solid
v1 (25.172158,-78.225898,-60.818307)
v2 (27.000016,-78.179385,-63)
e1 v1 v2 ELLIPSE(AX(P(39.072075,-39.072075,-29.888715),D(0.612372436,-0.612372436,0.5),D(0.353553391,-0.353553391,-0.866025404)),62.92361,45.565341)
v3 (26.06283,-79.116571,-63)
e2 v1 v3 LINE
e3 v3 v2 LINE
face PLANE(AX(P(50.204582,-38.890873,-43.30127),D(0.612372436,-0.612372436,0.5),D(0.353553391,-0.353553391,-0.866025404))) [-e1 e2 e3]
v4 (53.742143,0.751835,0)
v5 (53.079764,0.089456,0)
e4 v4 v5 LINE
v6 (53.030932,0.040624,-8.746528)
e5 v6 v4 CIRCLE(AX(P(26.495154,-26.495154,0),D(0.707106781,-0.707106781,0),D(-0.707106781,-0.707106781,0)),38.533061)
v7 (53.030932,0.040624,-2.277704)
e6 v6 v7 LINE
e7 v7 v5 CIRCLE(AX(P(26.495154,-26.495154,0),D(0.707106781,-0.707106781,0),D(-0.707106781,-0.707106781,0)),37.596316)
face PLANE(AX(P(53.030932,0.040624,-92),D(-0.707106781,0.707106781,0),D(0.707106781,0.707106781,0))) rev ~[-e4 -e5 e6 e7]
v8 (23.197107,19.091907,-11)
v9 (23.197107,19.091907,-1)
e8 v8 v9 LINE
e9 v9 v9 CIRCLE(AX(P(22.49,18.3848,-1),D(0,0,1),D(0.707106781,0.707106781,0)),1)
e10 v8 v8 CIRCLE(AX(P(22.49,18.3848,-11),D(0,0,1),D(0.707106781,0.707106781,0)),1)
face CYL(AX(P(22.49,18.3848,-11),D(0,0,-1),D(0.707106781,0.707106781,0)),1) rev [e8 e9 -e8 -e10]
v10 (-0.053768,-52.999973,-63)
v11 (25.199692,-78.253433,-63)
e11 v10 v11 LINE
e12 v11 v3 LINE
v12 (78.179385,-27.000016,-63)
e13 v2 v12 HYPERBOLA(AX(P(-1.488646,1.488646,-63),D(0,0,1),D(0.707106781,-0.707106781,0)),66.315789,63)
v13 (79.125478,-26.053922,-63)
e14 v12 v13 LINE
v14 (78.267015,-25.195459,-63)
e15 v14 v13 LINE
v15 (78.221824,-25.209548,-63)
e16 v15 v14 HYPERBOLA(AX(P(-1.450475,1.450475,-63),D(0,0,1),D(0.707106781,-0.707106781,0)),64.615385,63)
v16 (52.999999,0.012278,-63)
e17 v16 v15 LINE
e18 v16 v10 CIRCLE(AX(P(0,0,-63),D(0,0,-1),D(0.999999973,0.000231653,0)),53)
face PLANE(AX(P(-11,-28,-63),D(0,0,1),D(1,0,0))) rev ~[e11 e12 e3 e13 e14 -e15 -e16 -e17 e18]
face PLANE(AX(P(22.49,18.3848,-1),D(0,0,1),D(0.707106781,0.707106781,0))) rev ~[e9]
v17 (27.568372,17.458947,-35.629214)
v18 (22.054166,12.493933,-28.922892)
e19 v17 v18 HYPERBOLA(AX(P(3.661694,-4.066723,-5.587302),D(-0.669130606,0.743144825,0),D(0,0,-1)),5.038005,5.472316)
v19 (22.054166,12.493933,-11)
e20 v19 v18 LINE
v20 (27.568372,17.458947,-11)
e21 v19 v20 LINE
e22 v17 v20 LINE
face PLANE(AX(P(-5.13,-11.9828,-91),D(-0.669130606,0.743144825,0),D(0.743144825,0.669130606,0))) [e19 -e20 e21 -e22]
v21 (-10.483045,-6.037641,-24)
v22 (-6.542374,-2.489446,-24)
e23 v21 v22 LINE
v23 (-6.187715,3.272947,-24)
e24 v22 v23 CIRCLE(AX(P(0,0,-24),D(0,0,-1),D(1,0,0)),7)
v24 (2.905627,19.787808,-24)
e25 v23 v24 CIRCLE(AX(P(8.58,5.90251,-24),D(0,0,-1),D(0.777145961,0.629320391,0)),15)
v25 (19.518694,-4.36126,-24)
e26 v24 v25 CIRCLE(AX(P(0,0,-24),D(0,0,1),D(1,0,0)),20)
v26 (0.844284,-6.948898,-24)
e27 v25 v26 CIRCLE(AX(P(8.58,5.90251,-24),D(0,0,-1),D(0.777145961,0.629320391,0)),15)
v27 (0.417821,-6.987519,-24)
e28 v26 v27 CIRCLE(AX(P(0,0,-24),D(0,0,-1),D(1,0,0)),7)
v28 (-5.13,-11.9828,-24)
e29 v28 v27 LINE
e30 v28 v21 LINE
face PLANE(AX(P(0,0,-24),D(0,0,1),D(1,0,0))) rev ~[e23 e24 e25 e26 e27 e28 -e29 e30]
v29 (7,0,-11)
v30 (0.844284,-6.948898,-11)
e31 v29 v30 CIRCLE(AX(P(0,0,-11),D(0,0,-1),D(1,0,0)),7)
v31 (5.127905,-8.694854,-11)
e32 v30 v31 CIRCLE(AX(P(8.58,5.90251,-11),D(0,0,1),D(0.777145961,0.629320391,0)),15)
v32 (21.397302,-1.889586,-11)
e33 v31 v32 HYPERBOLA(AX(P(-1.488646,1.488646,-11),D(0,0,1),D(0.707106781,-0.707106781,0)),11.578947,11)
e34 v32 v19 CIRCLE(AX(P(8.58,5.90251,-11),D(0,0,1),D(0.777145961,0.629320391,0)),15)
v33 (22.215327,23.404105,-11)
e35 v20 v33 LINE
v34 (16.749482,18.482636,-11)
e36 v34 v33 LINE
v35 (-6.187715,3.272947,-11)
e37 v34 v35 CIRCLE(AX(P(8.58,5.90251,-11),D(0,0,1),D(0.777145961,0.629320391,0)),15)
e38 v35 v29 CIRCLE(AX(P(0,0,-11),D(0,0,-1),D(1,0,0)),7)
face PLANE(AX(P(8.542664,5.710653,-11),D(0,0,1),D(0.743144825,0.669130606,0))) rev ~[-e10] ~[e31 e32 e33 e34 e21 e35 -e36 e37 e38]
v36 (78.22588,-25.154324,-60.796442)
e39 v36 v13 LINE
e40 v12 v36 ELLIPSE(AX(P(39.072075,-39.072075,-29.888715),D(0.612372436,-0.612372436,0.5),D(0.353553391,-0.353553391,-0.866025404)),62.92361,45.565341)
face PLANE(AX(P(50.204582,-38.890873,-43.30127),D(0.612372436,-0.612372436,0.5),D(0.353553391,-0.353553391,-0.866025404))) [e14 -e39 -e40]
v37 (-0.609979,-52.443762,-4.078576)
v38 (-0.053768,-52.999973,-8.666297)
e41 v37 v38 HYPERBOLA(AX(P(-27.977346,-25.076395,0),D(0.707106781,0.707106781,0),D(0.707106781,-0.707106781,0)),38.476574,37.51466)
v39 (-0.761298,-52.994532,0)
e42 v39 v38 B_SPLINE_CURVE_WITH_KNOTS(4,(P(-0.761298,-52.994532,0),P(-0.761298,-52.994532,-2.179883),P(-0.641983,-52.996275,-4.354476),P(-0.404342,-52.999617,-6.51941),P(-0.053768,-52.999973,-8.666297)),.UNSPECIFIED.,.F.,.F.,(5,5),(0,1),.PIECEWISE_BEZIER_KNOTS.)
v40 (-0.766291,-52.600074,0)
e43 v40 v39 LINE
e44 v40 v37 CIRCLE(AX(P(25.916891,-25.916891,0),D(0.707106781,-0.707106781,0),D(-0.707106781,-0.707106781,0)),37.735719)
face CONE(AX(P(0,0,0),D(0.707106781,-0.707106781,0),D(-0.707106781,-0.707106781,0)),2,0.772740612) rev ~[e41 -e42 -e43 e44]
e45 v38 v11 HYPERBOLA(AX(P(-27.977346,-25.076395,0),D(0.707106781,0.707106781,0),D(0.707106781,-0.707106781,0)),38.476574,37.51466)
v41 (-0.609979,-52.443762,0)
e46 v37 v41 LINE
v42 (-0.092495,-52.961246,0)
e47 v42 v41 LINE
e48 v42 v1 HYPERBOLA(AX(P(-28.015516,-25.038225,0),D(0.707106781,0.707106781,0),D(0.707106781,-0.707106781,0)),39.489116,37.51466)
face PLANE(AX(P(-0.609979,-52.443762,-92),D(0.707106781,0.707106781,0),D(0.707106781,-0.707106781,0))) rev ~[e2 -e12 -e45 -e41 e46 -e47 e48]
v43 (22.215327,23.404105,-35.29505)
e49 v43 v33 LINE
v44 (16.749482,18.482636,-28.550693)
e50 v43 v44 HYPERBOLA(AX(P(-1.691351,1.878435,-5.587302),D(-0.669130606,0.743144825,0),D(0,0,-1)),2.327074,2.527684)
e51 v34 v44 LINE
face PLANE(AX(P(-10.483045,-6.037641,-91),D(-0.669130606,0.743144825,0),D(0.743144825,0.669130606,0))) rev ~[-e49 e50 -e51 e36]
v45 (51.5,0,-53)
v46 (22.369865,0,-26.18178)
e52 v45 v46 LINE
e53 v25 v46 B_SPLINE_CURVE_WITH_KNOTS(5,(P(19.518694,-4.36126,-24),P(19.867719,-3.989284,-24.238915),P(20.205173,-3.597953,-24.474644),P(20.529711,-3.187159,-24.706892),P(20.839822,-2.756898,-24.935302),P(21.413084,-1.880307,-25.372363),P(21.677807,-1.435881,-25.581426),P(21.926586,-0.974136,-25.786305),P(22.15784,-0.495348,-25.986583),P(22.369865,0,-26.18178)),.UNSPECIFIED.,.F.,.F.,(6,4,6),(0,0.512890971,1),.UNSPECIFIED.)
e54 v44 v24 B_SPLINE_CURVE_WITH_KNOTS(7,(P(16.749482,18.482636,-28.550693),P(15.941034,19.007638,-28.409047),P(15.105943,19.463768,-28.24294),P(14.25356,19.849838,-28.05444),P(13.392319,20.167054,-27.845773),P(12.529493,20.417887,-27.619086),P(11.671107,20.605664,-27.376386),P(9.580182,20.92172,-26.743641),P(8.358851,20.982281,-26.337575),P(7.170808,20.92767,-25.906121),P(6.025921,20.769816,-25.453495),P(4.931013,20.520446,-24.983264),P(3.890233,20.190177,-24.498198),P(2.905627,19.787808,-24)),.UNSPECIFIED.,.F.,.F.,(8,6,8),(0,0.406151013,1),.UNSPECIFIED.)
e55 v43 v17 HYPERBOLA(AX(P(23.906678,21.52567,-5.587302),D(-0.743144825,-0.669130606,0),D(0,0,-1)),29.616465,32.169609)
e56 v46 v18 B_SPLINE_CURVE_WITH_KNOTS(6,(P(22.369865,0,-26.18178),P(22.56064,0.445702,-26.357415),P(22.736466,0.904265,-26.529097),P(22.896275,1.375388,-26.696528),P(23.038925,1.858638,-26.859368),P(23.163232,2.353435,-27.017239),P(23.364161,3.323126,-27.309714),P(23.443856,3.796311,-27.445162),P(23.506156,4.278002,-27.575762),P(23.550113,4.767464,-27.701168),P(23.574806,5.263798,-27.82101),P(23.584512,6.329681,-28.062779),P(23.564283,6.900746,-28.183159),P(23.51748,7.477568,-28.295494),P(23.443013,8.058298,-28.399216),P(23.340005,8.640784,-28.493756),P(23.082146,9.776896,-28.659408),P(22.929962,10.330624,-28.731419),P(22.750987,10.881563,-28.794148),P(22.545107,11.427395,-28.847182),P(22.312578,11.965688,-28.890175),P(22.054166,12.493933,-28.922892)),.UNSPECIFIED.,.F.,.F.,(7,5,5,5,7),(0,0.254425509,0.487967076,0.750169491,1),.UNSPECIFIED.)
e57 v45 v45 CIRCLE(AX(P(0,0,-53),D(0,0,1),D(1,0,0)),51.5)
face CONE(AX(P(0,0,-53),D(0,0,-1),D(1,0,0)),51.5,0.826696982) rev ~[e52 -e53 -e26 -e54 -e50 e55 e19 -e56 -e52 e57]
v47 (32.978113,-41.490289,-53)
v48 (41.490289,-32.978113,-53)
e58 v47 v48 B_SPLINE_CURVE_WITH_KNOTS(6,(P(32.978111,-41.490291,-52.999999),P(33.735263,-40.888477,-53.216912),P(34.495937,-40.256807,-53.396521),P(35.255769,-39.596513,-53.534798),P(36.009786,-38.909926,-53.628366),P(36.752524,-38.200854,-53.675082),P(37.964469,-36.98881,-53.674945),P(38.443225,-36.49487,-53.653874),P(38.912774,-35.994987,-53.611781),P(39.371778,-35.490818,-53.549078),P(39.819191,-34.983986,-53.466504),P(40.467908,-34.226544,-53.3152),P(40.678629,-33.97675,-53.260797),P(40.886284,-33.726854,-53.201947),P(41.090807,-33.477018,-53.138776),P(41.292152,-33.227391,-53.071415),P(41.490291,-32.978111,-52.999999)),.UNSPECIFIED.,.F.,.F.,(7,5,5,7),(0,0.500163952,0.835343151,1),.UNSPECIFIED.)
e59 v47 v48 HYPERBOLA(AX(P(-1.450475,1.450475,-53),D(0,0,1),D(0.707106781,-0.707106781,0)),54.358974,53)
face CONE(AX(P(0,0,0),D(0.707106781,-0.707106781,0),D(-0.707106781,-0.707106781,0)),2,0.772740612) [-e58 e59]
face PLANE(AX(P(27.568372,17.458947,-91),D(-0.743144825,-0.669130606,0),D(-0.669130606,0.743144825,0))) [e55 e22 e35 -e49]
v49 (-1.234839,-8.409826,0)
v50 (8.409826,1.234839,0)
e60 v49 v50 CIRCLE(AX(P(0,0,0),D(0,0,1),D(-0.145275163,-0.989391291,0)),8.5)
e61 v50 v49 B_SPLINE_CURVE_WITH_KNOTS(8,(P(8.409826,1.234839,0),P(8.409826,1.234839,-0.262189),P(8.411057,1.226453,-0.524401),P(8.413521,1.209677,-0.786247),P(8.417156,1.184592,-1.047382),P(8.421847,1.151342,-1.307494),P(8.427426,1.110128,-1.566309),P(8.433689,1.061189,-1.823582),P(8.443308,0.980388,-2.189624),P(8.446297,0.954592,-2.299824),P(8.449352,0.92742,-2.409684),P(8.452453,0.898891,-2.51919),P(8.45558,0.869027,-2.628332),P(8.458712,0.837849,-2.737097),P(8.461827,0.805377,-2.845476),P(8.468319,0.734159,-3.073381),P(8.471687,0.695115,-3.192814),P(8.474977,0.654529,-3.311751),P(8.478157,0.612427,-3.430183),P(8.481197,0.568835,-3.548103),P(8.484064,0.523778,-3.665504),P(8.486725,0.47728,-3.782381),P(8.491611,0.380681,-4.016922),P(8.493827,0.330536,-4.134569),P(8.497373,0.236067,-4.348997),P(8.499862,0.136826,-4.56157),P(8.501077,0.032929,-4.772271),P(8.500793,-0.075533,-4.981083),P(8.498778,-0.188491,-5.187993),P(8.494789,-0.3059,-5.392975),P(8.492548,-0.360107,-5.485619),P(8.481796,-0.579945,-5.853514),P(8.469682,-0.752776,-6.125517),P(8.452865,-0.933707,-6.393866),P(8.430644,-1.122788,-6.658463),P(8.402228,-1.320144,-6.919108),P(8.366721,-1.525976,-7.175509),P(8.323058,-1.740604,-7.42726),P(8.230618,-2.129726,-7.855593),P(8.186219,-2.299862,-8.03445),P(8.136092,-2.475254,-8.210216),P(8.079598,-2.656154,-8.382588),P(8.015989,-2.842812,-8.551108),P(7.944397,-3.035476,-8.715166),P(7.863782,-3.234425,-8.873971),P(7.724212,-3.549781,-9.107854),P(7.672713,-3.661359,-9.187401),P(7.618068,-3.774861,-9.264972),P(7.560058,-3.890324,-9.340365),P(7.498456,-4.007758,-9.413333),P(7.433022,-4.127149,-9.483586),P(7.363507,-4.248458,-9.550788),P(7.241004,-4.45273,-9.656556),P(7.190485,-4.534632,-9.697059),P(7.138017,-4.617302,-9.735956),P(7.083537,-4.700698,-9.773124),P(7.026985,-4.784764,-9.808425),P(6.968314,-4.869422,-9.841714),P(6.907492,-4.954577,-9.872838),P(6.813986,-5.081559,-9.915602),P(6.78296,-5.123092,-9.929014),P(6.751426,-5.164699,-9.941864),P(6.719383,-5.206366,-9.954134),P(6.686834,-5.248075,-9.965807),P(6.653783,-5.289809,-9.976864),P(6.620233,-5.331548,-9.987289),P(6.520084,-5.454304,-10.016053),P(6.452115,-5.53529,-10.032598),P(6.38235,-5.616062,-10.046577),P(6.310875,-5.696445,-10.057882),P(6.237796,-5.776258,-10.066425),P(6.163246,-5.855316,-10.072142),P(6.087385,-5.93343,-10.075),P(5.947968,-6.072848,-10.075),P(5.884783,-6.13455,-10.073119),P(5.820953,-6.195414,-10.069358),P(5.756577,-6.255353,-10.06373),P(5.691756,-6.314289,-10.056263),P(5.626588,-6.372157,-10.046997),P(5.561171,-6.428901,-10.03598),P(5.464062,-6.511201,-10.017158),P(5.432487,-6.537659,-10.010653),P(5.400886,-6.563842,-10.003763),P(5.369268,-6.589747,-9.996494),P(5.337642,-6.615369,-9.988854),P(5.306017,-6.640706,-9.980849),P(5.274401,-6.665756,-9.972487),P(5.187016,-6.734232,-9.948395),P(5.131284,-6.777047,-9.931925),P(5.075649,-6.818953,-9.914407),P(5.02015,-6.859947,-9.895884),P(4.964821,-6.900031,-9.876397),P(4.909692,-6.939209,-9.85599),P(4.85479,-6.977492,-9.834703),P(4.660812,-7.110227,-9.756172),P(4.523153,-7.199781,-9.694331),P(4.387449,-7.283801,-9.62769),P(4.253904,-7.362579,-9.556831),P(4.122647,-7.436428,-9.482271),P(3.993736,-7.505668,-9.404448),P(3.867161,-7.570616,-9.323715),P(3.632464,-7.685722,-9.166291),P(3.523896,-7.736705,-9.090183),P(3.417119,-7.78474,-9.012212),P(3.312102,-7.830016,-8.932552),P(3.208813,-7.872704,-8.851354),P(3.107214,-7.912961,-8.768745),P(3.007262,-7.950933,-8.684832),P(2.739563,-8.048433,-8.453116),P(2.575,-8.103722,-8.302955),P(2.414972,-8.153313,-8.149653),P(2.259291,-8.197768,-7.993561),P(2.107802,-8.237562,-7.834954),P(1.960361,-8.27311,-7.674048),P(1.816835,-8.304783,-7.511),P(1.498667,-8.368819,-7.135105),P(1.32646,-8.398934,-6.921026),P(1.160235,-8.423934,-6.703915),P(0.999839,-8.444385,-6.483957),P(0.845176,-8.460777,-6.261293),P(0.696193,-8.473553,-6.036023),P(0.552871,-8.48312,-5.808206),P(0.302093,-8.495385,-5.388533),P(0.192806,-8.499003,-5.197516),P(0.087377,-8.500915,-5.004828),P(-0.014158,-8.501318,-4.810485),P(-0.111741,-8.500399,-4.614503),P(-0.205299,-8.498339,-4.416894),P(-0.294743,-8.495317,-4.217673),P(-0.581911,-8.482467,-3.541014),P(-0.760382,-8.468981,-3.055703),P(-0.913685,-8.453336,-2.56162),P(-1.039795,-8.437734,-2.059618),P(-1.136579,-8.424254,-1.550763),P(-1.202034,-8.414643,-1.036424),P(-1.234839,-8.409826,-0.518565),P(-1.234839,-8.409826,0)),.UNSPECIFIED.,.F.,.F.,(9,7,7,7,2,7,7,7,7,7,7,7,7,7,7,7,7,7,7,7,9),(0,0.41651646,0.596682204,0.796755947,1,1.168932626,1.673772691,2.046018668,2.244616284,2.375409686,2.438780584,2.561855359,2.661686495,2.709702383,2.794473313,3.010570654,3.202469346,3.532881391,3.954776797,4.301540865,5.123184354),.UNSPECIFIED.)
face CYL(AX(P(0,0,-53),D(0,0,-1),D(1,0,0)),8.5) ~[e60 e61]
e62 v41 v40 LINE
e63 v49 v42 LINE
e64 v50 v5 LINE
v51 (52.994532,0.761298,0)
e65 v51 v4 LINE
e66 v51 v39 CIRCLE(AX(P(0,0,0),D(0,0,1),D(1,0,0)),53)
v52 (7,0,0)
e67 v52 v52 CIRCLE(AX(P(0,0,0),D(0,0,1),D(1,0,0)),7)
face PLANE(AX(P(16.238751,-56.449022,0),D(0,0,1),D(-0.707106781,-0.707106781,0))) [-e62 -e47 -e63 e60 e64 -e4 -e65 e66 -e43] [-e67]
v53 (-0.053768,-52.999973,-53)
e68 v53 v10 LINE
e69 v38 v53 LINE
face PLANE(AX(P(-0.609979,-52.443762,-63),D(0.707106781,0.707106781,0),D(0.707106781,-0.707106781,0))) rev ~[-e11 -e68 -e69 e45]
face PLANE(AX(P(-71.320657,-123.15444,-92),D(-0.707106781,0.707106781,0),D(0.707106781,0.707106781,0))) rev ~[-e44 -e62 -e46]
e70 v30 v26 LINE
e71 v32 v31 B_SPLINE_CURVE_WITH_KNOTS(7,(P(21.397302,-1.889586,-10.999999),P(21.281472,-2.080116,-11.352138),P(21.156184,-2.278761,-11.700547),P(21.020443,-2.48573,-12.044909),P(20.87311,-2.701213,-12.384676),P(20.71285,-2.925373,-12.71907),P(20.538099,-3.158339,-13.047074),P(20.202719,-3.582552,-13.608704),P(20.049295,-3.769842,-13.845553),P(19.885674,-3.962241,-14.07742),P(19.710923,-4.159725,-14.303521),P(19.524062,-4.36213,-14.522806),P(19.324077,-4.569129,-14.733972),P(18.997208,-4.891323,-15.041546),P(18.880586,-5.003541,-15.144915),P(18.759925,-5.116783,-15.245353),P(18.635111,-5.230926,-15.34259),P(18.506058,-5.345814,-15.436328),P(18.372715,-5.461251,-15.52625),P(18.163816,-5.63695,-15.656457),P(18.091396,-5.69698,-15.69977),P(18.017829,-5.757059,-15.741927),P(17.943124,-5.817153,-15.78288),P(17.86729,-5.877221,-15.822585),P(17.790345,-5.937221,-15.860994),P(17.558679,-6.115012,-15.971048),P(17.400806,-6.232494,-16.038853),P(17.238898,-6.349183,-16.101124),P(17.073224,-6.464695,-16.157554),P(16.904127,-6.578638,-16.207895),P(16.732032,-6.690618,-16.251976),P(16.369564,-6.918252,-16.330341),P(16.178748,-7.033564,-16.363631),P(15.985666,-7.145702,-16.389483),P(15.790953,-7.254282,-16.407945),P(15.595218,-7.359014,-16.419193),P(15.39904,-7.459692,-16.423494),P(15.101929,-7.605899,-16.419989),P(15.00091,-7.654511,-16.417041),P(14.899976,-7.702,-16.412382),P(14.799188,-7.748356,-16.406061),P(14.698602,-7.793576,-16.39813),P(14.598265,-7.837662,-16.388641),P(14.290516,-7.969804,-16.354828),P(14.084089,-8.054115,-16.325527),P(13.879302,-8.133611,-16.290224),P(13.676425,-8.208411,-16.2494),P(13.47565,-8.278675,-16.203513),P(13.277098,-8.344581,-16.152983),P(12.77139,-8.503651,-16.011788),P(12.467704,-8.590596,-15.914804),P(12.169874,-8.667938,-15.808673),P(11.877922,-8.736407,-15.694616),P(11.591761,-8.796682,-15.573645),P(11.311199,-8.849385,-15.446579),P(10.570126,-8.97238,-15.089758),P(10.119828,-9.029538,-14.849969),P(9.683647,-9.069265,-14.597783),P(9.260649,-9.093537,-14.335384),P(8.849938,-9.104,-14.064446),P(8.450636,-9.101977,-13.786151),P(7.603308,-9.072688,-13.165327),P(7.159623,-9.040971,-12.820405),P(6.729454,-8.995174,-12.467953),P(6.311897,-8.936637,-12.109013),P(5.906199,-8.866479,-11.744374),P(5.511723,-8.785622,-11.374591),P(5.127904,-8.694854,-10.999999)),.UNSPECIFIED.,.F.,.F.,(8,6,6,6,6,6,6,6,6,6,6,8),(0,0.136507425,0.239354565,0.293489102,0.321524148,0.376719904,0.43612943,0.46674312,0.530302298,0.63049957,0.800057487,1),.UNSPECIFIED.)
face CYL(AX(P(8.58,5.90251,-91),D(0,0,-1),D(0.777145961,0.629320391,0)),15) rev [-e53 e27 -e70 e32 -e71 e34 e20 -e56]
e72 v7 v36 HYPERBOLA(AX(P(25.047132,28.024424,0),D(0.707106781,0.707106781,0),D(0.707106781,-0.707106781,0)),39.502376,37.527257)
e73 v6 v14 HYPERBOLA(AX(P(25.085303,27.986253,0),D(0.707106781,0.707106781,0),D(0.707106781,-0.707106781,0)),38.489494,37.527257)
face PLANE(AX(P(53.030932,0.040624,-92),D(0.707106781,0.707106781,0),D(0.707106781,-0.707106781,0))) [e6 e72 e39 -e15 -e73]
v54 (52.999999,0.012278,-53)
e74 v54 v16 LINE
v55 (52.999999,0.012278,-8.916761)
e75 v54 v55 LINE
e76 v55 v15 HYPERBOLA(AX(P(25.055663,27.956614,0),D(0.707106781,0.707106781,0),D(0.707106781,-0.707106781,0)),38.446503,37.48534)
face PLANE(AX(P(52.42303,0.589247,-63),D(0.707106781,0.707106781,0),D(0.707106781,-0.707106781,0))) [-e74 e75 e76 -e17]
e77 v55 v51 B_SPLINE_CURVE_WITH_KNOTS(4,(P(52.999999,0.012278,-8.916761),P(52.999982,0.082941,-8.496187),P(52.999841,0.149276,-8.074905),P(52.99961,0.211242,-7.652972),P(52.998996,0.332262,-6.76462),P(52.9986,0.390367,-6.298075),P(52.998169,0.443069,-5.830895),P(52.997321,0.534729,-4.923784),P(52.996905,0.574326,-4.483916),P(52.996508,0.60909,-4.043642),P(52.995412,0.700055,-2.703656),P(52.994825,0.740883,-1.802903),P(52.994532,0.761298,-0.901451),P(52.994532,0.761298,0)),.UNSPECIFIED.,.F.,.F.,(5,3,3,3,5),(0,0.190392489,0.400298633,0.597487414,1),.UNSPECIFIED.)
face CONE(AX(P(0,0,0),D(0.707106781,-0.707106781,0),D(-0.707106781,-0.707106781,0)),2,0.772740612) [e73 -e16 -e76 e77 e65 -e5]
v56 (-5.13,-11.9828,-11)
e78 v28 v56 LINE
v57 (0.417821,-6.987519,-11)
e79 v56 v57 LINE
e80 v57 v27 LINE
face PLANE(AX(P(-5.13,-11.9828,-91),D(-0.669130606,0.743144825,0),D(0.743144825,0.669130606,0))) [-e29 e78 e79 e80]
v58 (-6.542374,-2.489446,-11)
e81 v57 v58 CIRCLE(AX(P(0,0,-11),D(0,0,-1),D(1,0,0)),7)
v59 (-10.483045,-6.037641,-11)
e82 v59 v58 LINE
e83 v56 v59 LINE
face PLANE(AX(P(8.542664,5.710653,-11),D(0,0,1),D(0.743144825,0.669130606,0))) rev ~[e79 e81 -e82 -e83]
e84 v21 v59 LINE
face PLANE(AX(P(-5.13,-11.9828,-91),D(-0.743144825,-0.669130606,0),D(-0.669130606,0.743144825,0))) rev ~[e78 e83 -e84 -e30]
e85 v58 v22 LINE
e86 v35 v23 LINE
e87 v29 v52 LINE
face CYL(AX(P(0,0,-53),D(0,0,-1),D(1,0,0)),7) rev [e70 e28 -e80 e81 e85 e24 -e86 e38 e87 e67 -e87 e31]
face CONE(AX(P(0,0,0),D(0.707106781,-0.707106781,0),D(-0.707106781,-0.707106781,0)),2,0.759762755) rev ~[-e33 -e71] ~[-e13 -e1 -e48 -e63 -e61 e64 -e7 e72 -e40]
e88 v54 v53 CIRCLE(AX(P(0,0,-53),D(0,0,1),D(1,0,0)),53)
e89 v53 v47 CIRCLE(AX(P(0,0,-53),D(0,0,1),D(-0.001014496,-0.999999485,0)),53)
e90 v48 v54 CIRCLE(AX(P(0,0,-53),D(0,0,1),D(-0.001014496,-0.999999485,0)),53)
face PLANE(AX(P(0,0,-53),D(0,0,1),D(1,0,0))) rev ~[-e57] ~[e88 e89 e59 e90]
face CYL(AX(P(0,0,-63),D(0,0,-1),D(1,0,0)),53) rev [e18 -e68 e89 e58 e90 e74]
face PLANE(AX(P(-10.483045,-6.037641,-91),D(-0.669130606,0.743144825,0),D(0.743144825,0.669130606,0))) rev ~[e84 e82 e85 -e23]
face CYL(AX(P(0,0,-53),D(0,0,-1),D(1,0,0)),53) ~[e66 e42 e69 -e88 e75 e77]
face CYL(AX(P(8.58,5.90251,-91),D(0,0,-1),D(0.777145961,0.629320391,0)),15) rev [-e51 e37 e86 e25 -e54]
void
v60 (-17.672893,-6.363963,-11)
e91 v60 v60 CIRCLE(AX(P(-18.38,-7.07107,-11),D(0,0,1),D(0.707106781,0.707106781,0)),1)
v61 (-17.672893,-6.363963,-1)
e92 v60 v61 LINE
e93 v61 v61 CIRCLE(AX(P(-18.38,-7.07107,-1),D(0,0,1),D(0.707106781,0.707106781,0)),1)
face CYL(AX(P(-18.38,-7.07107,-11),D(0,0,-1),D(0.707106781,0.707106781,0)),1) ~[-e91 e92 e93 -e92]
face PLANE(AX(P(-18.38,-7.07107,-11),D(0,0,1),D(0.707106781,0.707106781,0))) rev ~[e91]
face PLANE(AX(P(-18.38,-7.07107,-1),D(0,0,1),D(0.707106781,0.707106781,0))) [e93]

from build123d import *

# Parameters (mm, degrees)
BOX039_W                    = 44
BOX039_H                    = 8
BOX039_DEPTH                = 80
BOX039_PLACEMENT_ANGLE      = 42
CYLINDER023_R               = 1
CYLINDER023_DEPTH           = 10
CYLINDER023_PLACEMENT_ANGLE = 45
CYLINDER024_R               = 1
CYLINDER024_DEPTH           = 10
CYLINDER024_PLACEMENT_ANGLE = 45
CYLINDER022_R               = 15
CYLINDER022_DEPTH           = 80
CYLINDER022_PLACEMENT_ANGLE = 39
CYLINDER026_R               = 8.5
CYLINDER026_DEPTH           = 45
BOX038_W                    = 100
BOX038_H                    = 200
BOX038_DEPTH                = 50
BOX038_PITCH_ANGLE          = 60
BOX038_PLACEMENT_ANGLE      = -45
BOX041_W                    = 100
BOX041_H                    = 100
BOX041_DEPTH                = 100
BOX041_PLACEMENT_ANGLE      = 45
BOX042_W                    = 100
BOX042_H                    = 100
BOX042_DEPTH                = 100
BOX042_PLACEMENT_ANGLE      = 45
BOX043_W                    = 200
BOX043_H                    = 200
BOX043_DEPTH                = 200
CONE008_ANGLE               = 180
CONE008_ROLL_ANGLE          = -90
CONE008_PLACEMENT_ANGLE     = -135
CONE007_ANGLE               = 180
CONE007_ROLL_ANGLE          = -90
CONE007_PLACEMENT_ANGLE     = -135
CYLINDER027_R               = 53
CYLINDER027_DEPTH           = 60
BOX044_W                    = 38
BOX044_H                    = 75
BOX044_DEPTH                = 63
BOX044_PLACEMENT_ANGLE      = 45
CYLINDER025_R               = 53
CYLINDER025_DEPTH           = 53
TUBE018_R                   = 8.5
TUBE018_R_2                 = 7
TUBE018_DEPTH               = 53


with BuildPart() as cube039:
    # Box039 → Box039 (new body)
    with BuildSketch(Plane.XY):
        with Locations((22, 4)):
            Rectangle(BOX039_W, BOX039_H)
    extrude(amount=BOX039_DEPTH)


with BuildPart() as cube039_1:
    # Box039 placement: moved
    add(cube039.part.moved(Location((-5.13, -11.9828, -91))).rotate(Axis((-5.13, -11.9828, -91), (0, 0, 1)), BOX039_PLACEMENT_ANGLE))


with BuildPart() as cone009:
    # Cone009 → Cone009 (revolve)
    with BuildSketch(Plane(origin=(0, 0, -53), x_dir=(1, 0, 0), z_dir=(0, -1, 0))):
        Polygon((0, 0), (51.5, 0), (20, 29), (0, 29), align=None)
    revolve(axis=Axis((0, 0, -53), (0, 0, 1)))


with BuildPart() as cylinder023:
    # Cylinder023 → Cylinder023 (new body)
    with BuildSketch(Plane.XY):
        Circle(CYLINDER023_R)
    extrude(amount=CYLINDER023_DEPTH)


with BuildPart() as cylinder023_1:
    # Cylinder023 placement: moved
    add(cylinder023.part.moved(Location((-18.38, -7.07107, -11))).rotate(Axis((-18.38, -7.07107, -11), (0, 0, 1)), CYLINDER023_PLACEMENT_ANGLE))


with BuildPart() as cylinder024:
    # Cylinder024 → Cylinder024 (new body)
    with BuildSketch(Plane.XY):
        Circle(CYLINDER024_R)
    extrude(amount=CYLINDER024_DEPTH)


with BuildPart() as cylinder024_1:
    # Cylinder024 placement: moved
    add(cylinder024.part.moved(Location((22.49, 18.3848, -11))).rotate(Axis((22.49, 18.3848, -11), (0, 0, 1)), CYLINDER024_PLACEMENT_ANGLE))


with BuildPart() as fusion009012:
    # Cylinder022 → Cylinder022 (new body)
    with BuildSketch(Plane.XY):
        Circle(CYLINDER022_R)
    extrude(amount=CYLINDER022_DEPTH)


with BuildPart() as fusion009012_1:
    # Cylinder022 placement: moved
    add(fusion009012.part.moved(Location((8.58, 5.90251, -91))).rotate(Axis((8.58, 5.90251, -91), (0, 0, 1)), CYLINDER022_PLACEMENT_ANGLE))

    # Fusion009012: union Cube039, Cone009, Cylinder023, Cylinder024
    add(cube039_1.part)
    add(cone009.part)
    add(cylinder023_1.part)
    add(cylinder024_1.part)


with BuildPart() as cylinder026:
    # Cylinder026 → Cylinder026 (new body)
    with BuildSketch(Plane.XY.offset(-43)):
        Circle(CYLINDER026_R)
    extrude(amount=CYLINDER026_DEPTH)


with BuildPart() as cube038:
    # Box038 → Box038 (new body)
    with BuildSketch(Plane.XY):
        with Locations((50, 100)):
            Rectangle(BOX038_W, BOX038_H)
    extrude(amount=BOX038_DEPTH)


with BuildPart() as cube038_1:
    # Box038 pitch: moved
    add(cube038.part.rotate(Axis((0, 0, 0), (0, 1, 0)), BOX038_PITCH_ANGLE))


with BuildPart() as cube038_2:
    # Box038 placement: moved
    add(cube038_1.part.moved(Location((-38.183766, -91.923882, 0))).rotate(Axis((-38.183766, -91.923882, 0), (0, 0, 1)), BOX038_PLACEMENT_ANGLE))


with BuildPart() as cube041:
    # Box041 → Box041 (new body)
    with BuildSketch(Plane.XY):
        with Locations((50, 50)):
            Rectangle(BOX041_W, BOX041_H)
    extrude(amount=BOX041_DEPTH)


with BuildPart() as cube041_1:
    # Box041 placement: moved
    add(cube041.part.moved(Location((-71.320657, -123.15444, -92))).rotate(Axis((-71.320657, -123.15444, -92), (0, 0, -1)), BOX041_PLACEMENT_ANGLE))


with BuildPart() as cube042:
    # Box042 → Box042 (new body)
    with BuildSketch(Plane.XY):
        with Locations((50, 50)):
            Rectangle(BOX042_W, BOX042_H)
    extrude(amount=BOX042_DEPTH)


with BuildPart() as cube042_1:
    # Box042 placement: moved
    add(cube042.part.moved(Location((53.030932, 0.040624, -92))).rotate(Axis((53.030932, 0.040624, -92), (0, 0, -1)), BOX042_PLACEMENT_ANGLE))


with BuildPart() as cube043:
    # Box043 → Box043 (new body)
    with BuildSketch(Plane(origin=(-111, -128, -263), x_dir=(1, 0, 0), z_dir=(0, 0, 1))):
        with Locations((100, 100)):
            Rectangle(BOX043_W, BOX043_H)
    extrude(amount=BOX043_DEPTH)


with BuildPart() as fusion009014:
    # Cone008 → Cone008 (revolve)
    with BuildSketch(Plane.XZ):
        Polygon((0, 0), (2, 0), (78, 80), (0, 80), align=None)
    revolve(axis=Axis((0, 0, 0), (0, 0, 1)), revolution_arc=CONE008_ANGLE)


with BuildPart() as fusion009014_1:
    # Cone008 roll: moved
    add(fusion009014.part.rotate(Axis((0, 0, 0), (1, 0, 0)), CONE008_ROLL_ANGLE))


with BuildPart() as fusion009014_2:
    # Cone008 placement: moved
    add(fusion009014_1.part.rotate(Axis((0, 0, 0), (0, 0, 1)), CONE008_PLACEMENT_ANGLE))

    # Fusion009014: union Cube041, Cube042, Cube043
    add(cube041_1.part)
    add(cube042_1.part)
    add(cube043.part)


with BuildPart() as cone002_vonkajsi001:
    # Cone007 → Cone007 (revolve)
    with BuildSketch(Plane.XZ):
        Polygon((0, 0), (2, 0), (80, 80), (0, 80), align=None)
    revolve(axis=Axis((0, 0, 0), (0, 0, 1)), revolution_arc=CONE007_ANGLE)


with BuildPart() as cone002_vonkajsi001_1:
    # Cone007 roll: moved
    add(cone002_vonkajsi001.part.rotate(Axis((0, 0, 0), (1, 0, 0)), CONE007_ROLL_ANGLE))


with BuildPart() as cone002_vonkajsi001_2:
    # Cone007 placement: moved
    add(cone002_vonkajsi001_1.part.rotate(Axis((0, 0, 0), (0, 0, 1)), CONE007_PLACEMENT_ANGLE))


with BuildPart() as cut009009:
    # Cut009017 base: copy of Cone002_vonkajsi001
    add(cone002_vonkajsi001_2.part)

    # Cut009017: cut Fusion009014
    add(fusion009014_2.part, mode=Mode.SUBTRACT)

    # Cut009009: cut Cube038
    add(cube038_2.part, mode=Mode.SUBTRACT)


with BuildPart() as cylinder027:
    # Cylinder027 → Cylinder027 (new body)
    with BuildSketch(Plane.XY.offset(-63)):
        Circle(CYLINDER027_R)
    extrude(amount=CYLINDER027_DEPTH)


with BuildPart() as cut009012:
    # Box044 → Box044 (new body)
    with BuildSketch(Plane.XY):
        with Locations((19, 37.5)):
            Rectangle(BOX044_W, BOX044_H)
    extrude(amount=BOX044_DEPTH)


with BuildPart() as cut009012_1:
    # Box044 placement: moved
    add(cut009012.part.moved(Location((-0.609979, -52.443762, -63))).rotate(Axis((-0.609979, -52.443762, -63), (0, 0, -1)), BOX044_PLACEMENT_ANGLE))

    # Cut009012: cut Cylinder027
    add(cylinder027.part, mode=Mode.SUBTRACT)


with BuildPart() as cut009010:
    # Cylinder025 → Cylinder025 (new body)
    with BuildSketch(Plane.XY.offset(-53)):
        Circle(CYLINDER025_R)
    extrude(amount=CYLINDER025_DEPTH)

    # Fusion009013: union Cut009012
    add(cut009012_1.part)

    # Cut009011: cut Cone002_vonkajsi001
    add(cone002_vonkajsi001_2.part, mode=Mode.SUBTRACT)

    # Fusion009011: union Cut009009
    add(cut009009.part)

    # Cut009010: cut Cylinder026
    add(cylinder026.part, mode=Mode.SUBTRACT)


with BuildPart() as cut009_middle002:
    # Tube018 → Tube018 (new body)
    with BuildSketch(Plane.XY.offset(-53)):
        Circle(TUBE018_R)
        Circle(TUBE018_R_2, mode=Mode.SUBTRACT)
    extrude(amount=TUBE018_DEPTH)

    # Fusion009010: union Cut009010
    add(cut009010.part)

    # Cut009013: cut Fusion009012
    add(fusion009012_1.part, mode=Mode.SUBTRACT)


solid = cut009_middle002.part
